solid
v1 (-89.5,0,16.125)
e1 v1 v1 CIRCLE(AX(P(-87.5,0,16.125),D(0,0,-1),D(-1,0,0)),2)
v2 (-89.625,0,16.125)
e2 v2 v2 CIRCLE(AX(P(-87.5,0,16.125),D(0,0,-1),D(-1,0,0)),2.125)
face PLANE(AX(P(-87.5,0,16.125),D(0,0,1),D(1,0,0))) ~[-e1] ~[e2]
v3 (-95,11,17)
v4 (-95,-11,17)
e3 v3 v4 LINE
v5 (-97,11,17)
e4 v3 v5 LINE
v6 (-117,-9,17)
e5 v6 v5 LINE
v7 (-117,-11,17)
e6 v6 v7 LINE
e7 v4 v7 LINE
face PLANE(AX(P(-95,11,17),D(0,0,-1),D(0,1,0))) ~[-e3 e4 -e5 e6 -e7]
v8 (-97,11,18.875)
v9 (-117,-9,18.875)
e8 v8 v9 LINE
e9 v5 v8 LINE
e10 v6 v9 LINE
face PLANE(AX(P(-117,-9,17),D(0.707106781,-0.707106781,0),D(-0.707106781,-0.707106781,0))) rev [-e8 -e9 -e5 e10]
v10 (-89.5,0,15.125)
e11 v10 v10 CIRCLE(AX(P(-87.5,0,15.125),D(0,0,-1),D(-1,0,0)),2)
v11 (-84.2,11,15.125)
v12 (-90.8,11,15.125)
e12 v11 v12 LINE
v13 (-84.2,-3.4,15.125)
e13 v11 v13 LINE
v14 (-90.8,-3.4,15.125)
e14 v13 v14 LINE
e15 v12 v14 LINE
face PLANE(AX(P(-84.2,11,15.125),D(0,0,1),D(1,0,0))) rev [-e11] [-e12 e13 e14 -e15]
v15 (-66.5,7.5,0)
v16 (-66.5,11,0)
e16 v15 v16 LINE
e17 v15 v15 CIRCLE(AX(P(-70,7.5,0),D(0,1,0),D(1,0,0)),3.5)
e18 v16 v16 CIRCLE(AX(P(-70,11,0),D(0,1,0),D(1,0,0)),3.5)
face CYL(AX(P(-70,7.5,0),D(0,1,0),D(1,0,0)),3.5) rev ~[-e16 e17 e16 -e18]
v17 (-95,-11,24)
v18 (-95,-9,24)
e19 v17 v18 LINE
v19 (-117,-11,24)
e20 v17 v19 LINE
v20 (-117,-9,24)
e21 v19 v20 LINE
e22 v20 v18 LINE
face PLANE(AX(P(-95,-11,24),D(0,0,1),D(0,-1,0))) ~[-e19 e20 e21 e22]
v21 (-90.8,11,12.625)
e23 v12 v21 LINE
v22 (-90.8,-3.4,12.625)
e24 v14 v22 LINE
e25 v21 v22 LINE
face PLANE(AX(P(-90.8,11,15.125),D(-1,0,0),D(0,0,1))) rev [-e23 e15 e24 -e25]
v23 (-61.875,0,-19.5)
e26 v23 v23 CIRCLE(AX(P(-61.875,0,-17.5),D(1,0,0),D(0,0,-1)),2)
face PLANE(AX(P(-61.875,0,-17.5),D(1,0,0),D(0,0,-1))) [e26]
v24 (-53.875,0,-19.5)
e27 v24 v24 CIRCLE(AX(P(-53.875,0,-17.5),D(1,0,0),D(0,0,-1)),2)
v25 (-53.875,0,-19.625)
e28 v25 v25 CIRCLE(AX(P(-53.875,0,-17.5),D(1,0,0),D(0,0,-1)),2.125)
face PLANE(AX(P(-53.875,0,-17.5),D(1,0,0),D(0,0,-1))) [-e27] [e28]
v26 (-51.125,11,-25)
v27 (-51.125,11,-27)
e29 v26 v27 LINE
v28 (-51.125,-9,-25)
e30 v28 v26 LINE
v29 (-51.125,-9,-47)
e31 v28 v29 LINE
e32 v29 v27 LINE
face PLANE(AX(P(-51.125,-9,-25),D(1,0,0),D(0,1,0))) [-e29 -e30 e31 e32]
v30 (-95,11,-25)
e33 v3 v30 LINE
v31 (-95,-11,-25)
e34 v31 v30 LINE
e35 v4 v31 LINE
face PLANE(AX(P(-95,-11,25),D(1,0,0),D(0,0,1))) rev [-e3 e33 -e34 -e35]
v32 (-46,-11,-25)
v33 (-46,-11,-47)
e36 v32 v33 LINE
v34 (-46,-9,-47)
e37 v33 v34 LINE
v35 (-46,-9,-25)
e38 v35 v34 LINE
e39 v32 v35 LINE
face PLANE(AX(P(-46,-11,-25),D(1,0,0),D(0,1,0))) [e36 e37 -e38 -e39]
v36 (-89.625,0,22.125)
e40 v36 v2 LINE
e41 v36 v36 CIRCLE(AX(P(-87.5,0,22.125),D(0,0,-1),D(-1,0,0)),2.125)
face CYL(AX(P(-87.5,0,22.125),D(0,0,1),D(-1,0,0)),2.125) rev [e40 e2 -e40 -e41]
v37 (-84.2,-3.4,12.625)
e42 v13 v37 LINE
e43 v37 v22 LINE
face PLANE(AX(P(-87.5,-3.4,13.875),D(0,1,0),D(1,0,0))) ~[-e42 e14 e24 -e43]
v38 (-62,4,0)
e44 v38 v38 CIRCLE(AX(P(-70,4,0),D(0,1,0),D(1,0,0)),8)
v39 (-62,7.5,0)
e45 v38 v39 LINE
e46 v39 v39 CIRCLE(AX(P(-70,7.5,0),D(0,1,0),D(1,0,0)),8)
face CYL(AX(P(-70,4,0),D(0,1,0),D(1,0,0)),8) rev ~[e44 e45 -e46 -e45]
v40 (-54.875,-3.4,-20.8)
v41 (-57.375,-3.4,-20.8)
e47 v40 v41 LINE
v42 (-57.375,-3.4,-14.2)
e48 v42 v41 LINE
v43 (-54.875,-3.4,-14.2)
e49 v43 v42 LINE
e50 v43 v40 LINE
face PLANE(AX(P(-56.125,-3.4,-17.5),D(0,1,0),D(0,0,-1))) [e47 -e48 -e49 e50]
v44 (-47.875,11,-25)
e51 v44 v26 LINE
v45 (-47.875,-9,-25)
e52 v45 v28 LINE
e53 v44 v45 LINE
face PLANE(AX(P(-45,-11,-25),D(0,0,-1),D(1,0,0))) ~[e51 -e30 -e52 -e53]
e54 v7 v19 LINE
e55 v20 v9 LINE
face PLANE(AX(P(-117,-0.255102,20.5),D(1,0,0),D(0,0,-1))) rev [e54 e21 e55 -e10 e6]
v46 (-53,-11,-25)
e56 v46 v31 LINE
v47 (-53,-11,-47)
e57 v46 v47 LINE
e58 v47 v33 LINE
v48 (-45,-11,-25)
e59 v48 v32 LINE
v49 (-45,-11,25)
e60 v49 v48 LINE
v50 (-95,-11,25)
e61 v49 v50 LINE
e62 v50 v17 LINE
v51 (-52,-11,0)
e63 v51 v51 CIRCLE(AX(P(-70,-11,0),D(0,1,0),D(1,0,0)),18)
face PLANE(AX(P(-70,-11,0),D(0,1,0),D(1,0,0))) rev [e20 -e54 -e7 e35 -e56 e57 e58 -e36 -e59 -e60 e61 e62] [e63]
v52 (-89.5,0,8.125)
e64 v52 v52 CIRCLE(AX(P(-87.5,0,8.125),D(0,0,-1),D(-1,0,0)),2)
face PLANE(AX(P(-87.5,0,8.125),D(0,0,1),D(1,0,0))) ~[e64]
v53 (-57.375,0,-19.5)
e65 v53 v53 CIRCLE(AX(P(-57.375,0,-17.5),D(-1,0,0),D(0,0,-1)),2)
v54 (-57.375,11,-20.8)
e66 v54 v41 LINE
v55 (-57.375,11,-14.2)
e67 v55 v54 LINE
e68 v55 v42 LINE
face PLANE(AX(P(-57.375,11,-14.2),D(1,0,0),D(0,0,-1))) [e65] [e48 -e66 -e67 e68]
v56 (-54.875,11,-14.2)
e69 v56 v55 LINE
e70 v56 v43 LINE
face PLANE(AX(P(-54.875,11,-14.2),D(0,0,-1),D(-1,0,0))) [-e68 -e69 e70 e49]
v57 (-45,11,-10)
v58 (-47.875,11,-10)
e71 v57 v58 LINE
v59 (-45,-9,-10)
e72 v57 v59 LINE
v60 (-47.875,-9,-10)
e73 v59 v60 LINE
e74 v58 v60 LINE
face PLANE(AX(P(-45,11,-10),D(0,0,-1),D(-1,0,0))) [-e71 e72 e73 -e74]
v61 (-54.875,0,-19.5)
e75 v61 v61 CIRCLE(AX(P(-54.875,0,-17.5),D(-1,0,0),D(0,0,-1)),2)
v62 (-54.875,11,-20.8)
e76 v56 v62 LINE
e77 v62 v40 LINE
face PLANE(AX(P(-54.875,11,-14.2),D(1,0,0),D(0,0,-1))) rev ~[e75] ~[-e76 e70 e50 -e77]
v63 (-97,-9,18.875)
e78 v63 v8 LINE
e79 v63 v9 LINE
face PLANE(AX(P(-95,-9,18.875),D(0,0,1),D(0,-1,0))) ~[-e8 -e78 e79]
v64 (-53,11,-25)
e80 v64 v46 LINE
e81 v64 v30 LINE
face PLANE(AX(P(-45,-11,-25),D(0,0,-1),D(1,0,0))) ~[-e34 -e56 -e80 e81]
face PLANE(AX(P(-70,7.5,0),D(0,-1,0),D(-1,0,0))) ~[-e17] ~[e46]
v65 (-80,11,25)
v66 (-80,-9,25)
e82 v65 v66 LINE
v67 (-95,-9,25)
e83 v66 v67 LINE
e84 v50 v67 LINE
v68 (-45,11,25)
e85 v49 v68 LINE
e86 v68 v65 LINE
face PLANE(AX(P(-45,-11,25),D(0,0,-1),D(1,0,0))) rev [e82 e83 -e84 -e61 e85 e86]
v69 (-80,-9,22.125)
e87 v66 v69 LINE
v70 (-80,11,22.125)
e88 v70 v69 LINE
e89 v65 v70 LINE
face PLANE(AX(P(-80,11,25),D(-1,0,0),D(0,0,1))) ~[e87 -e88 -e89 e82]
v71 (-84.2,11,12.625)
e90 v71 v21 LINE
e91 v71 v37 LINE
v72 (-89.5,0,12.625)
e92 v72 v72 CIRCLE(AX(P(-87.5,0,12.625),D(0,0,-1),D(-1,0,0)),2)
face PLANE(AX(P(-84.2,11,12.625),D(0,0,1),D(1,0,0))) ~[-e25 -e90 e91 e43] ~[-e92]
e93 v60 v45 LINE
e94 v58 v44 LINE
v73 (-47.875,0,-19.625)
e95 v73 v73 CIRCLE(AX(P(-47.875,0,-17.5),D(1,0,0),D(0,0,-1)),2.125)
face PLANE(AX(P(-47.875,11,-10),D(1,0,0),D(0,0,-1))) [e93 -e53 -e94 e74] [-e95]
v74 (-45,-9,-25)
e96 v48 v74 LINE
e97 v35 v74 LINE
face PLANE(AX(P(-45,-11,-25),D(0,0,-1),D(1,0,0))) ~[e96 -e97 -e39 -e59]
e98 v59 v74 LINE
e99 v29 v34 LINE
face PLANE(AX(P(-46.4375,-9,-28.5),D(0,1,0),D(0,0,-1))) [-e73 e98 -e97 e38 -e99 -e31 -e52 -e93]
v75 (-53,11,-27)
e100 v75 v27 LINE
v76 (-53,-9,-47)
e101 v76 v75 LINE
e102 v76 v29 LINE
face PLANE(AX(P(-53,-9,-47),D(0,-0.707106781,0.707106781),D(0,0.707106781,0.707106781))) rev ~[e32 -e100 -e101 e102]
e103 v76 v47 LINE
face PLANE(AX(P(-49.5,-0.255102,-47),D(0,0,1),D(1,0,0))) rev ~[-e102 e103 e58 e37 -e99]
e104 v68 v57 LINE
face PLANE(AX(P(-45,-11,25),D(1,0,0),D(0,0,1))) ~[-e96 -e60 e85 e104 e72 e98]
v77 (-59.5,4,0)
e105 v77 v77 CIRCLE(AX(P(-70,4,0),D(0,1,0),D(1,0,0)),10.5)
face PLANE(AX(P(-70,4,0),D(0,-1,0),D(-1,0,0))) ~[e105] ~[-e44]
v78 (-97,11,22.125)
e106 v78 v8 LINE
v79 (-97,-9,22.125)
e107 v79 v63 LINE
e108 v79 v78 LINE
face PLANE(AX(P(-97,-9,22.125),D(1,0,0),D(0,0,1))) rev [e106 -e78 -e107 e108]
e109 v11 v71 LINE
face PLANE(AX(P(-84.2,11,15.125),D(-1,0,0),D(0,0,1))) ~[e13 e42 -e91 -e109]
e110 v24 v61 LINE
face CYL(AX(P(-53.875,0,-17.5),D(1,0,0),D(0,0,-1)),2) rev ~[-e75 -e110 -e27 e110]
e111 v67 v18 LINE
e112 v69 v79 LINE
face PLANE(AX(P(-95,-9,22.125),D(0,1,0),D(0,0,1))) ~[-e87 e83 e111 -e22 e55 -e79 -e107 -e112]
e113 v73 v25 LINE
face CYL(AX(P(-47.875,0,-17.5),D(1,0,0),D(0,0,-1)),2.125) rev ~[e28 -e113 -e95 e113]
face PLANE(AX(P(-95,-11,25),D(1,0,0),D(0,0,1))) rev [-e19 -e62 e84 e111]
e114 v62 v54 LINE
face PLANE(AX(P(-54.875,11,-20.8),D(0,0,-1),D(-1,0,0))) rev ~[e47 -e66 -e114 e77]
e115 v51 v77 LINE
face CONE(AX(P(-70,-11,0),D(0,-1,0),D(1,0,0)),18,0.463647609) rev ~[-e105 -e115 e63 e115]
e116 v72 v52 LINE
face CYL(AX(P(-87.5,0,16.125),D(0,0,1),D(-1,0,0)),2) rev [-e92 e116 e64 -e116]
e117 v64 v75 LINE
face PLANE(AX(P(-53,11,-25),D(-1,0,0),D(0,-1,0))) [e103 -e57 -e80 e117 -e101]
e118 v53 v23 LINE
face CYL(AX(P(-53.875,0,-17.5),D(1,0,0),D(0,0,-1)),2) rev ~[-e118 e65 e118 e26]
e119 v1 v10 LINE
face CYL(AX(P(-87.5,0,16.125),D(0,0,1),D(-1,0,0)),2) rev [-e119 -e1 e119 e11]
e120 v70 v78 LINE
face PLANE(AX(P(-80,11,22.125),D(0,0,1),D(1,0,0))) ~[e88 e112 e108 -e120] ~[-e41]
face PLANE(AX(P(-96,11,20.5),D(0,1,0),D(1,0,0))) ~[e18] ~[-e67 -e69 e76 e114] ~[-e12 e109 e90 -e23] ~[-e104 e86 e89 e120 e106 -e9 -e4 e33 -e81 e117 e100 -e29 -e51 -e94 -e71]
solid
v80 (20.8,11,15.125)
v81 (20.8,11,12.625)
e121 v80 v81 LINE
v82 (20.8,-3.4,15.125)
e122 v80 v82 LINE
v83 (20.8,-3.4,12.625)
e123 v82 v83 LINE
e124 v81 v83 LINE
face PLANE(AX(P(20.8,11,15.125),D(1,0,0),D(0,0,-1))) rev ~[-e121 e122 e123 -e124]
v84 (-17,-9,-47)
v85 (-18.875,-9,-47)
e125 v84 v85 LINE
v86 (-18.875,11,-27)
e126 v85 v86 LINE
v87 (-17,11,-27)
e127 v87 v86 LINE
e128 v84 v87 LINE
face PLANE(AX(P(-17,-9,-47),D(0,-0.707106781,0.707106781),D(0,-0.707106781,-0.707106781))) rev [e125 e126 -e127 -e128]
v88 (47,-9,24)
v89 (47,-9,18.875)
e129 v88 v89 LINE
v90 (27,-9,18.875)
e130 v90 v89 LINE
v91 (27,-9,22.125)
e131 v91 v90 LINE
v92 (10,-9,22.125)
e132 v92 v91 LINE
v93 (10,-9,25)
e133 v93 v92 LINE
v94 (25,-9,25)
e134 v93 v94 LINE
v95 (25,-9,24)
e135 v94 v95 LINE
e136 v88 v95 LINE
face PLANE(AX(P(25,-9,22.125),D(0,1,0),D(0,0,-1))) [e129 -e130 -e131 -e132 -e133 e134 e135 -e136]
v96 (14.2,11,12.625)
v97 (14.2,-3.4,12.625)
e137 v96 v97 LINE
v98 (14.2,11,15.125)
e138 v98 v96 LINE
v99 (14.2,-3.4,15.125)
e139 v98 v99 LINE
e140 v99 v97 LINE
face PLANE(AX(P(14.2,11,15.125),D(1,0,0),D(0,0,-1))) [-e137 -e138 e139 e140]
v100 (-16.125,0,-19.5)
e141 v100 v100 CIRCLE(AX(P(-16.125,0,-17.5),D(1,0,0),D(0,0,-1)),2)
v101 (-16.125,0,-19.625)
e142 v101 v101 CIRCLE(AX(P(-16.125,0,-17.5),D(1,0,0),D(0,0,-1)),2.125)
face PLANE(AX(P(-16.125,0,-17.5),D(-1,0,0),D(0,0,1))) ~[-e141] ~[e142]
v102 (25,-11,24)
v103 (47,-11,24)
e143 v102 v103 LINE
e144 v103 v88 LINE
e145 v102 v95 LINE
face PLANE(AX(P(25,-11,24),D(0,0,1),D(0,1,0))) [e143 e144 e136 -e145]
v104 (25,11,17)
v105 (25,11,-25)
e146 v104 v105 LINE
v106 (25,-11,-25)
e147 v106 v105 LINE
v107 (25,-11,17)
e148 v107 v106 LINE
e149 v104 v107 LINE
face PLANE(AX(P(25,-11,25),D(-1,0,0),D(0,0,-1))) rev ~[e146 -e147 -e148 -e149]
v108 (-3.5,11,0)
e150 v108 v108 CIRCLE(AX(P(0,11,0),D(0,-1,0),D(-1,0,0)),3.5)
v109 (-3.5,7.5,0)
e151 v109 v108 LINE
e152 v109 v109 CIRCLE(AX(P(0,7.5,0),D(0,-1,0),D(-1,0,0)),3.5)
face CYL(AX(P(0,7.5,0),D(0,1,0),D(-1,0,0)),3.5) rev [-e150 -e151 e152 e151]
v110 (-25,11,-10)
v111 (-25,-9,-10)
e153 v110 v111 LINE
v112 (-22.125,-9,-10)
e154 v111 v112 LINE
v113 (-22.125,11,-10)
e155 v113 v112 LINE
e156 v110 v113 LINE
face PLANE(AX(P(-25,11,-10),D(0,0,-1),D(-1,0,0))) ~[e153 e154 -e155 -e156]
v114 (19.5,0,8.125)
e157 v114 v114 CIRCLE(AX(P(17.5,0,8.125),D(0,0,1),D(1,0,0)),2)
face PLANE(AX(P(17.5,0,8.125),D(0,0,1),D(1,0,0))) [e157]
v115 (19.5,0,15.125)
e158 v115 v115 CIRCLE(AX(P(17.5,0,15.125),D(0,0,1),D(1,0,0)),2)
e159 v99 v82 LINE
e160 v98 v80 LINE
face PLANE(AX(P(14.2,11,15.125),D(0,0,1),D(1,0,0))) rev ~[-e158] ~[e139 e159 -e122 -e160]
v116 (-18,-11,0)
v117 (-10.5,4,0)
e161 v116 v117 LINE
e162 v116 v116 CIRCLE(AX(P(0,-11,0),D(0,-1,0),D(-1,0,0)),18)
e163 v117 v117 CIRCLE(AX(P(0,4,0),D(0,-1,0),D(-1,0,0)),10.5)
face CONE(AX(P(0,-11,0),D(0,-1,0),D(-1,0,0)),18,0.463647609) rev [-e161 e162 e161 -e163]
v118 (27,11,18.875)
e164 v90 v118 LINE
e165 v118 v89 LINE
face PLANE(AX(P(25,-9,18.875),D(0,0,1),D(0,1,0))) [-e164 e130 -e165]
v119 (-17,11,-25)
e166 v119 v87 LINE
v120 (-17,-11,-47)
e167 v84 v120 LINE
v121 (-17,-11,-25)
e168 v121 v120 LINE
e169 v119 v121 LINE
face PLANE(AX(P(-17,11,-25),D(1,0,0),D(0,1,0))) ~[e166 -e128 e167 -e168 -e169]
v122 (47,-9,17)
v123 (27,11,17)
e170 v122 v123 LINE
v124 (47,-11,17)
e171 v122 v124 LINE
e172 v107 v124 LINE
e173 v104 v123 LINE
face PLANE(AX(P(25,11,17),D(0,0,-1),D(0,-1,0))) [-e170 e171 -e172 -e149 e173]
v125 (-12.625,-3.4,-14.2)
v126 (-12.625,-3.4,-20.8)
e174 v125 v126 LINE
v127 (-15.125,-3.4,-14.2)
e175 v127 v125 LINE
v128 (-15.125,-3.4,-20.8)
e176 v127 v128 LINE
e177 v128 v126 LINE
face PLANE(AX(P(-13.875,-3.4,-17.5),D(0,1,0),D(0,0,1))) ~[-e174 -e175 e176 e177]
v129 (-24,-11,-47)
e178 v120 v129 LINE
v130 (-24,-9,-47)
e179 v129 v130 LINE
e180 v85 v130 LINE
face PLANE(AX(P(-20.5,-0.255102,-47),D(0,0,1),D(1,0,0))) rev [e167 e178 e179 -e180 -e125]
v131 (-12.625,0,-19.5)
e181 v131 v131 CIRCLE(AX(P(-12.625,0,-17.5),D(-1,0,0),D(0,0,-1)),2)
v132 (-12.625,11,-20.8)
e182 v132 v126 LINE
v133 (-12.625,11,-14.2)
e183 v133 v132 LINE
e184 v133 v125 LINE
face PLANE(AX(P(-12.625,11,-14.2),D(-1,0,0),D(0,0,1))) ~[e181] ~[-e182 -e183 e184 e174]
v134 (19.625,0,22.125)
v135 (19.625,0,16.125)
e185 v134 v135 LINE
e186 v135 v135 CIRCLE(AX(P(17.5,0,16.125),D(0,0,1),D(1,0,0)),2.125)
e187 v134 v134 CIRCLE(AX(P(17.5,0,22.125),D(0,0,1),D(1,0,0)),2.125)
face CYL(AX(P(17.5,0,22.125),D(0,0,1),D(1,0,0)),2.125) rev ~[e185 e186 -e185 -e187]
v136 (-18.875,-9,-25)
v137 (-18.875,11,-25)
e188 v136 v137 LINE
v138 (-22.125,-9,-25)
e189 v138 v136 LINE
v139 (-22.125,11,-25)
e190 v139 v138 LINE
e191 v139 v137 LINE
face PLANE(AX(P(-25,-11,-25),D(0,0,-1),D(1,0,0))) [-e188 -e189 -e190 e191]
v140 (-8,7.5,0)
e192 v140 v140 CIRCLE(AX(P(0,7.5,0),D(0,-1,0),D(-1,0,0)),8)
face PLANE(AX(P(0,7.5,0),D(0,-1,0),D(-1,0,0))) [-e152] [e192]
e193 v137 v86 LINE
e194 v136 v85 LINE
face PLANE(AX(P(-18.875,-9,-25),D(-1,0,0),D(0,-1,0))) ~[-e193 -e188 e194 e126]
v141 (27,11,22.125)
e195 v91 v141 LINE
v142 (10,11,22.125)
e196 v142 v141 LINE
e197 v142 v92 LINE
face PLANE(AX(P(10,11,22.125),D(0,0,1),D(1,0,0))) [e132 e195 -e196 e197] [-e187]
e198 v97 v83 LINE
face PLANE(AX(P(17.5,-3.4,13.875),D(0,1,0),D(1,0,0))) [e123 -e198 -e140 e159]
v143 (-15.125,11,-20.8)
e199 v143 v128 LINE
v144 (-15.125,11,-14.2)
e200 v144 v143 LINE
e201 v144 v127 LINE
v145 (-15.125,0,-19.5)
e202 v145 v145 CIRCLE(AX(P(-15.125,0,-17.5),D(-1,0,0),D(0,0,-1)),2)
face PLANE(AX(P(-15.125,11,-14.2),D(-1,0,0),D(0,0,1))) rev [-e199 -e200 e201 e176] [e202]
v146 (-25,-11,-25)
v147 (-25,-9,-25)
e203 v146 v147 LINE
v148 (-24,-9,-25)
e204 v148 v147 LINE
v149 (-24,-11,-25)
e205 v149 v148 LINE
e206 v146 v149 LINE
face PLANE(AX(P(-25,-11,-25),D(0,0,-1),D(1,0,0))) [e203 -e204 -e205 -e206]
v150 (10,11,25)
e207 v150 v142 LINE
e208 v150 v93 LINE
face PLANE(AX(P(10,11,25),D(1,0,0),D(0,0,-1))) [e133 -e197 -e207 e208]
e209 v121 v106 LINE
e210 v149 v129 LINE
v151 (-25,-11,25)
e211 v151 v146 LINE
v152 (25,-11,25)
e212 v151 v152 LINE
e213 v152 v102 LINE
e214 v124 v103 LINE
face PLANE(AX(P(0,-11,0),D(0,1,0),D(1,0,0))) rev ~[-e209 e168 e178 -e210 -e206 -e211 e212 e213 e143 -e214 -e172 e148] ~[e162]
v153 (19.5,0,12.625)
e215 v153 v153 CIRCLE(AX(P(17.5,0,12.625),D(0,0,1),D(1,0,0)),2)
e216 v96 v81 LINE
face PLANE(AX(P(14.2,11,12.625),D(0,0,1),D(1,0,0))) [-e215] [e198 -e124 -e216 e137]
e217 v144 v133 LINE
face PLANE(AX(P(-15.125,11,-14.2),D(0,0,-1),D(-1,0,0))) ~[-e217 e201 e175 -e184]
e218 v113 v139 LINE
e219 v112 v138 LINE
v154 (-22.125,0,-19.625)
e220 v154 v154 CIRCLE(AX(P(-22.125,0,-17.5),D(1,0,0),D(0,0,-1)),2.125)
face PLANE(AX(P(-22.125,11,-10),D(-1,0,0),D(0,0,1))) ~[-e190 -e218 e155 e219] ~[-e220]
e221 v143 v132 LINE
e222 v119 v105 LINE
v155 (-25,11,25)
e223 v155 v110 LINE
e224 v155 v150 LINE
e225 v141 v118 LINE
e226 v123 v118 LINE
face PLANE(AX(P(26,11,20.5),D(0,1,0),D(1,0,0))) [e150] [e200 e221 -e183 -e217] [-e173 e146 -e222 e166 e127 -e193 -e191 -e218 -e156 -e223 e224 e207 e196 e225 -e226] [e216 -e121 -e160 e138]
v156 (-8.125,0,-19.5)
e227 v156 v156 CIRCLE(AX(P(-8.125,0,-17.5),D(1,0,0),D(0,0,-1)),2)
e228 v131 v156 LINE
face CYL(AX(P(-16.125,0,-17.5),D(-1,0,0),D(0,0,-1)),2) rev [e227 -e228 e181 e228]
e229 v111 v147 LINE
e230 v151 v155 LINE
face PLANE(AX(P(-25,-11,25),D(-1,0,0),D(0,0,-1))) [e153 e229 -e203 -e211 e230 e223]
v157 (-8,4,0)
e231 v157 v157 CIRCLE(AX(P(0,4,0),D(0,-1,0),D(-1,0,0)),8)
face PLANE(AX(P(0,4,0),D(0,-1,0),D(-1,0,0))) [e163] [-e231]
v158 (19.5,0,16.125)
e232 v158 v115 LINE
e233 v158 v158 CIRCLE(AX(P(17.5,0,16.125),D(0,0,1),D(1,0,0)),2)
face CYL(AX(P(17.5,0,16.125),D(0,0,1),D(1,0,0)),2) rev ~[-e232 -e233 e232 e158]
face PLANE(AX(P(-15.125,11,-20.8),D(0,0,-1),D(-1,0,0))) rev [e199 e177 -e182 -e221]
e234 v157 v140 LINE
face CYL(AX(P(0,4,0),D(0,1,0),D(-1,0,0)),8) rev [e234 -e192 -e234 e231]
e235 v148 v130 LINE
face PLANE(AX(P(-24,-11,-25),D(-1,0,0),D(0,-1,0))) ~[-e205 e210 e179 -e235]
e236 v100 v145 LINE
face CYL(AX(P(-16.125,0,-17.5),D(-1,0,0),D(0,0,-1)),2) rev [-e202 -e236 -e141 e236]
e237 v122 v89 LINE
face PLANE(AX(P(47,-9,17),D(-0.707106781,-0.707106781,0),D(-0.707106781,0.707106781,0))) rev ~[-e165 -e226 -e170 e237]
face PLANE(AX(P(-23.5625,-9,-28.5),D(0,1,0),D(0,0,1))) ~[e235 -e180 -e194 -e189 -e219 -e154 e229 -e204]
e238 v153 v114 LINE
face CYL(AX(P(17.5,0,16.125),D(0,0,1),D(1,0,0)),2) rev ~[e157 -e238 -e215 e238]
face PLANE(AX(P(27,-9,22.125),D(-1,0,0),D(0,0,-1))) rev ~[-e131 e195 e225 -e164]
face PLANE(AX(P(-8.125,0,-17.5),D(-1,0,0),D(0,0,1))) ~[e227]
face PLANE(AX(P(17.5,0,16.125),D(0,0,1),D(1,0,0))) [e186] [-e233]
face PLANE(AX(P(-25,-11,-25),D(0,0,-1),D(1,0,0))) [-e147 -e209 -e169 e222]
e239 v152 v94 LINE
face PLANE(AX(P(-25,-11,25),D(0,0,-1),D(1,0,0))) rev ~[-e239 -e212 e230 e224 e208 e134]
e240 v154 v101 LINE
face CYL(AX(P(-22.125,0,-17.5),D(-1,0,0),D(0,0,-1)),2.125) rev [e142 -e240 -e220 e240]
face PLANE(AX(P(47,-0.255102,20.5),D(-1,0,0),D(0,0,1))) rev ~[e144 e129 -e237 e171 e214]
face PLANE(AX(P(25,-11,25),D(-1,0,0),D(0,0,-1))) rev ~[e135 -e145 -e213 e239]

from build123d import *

# Parameters (mm, degrees)
BOSS_EXTRUDE1_DEPTH      = 11
BOSS_EXTRUDE1_DEPTH_BACK = 11
SKETCH1_W                = 50
SKETCH1_H                = 50
BOSS_EXTRUDE2_DEPTH      = 22
CUT_EXTRUDE1_DEPTH       = 7
SKETCH5_W                = 2
SKETCH5_H                = 3.25
BOSS_EXTRUDE3_DEPTH      = 20
SKETCH6_W                = 37
SKETCH6_H                = 2.875
CUT_EXTRUDE2_DEPTH       = 20
SKETCH8_R                = 2.125
CUT_EXTRUDE3_DEPTH       = 6
SKETCH9_W                = 6.6
SKETCH9_H                = 2.5
CUT_EXTRUDE4_DEPTH       = 14.4
SKETCH11_R               = 2
CUT_EXTRUDE5_DEPTH       = 8


with BuildPart() as part:
    # Sketch1 → Boss-Extrude1 (new, two sides: drawn at the far end of the back side and taken through both)
    with BuildSketch(Plane(origin=(0, 0, 0), x_dir=(1, 0, 0), z_dir=(0, 1, 0)).offset(-BOSS_EXTRUDE1_DEPTH_BACK)):
        Rectangle(SKETCH1_W, SKETCH1_H)
    extrude(amount=BOSS_EXTRUDE1_DEPTH + BOSS_EXTRUDE1_DEPTH_BACK)

    # Sketch2 → Cut-Revolve1 (revolve, cut)
    with BuildSketch(Plane.XY):
        Polygon((-3.5, 7.5), (-3.5, 11), (0, 11), (0, -11), (-18, -11), (-10.5, 4), (-8, 4), (-8, 7.5), align=None)
    revolve(axis=Axis((0, 11, 0), (0, -1, 0)), mode=Mode.SUBTRACT)

    # Sketch3 → Boss-Extrude2 (add)
    with BuildSketch(Plane(origin=(25, 0, 0), x_dir=(0, 0, -1), z_dir=(1, 0, 0))):
        Polygon((-24, 11), (-22.125, 11), (-22.125, -9), (-18.875, -9), (-18.875, 11), (-17, 11), (-17, -11), (-24, -11), align=None)
    boss_extrude2 = extrude(amount=BOSS_EXTRUDE2_DEPTH)

    # Sketch4 → Cut-Extrude1 (cut)
    with BuildSketch(Plane(origin=(0, 0, 17), x_dir=(-1, 0, 0), z_dir=(0, 0, -1))):
        Polygon((-47, -9), (-27, 11), (-47, 11), align=None)
    cut_extrude1 = extrude(amount=-CUT_EXTRUDE1_DEPTH, mode=Mode.SUBTRACT)

    # Sketch5 → Boss-Extrude3 (add)
    with BuildSketch(Plane(origin=(0, -9, 0), x_dir=(1, 0, 0), z_dir=(0, 1, 0))):
        with Locations((26, -20.5)):
            Rectangle(SKETCH5_W, SKETCH5_H)
    extrude(amount=BOSS_EXTRUDE3_DEPTH)

    # Sketch6 → Cut-Extrude2 (cut)
    with BuildSketch(Plane(origin=(0, 11, 0), x_dir=(1, 0, 0), z_dir=(0, 1, 0))):
        with Locations((28.5, -23.5625)):
            Rectangle(SKETCH6_W, SKETCH6_H)
    cut_extrude2 = extrude(amount=-CUT_EXTRUDE2_DEPTH, mode=Mode.SUBTRACT)

    # Sketch8 → Cut-Extrude3 (cut)
    with BuildSketch(Plane.XY.offset(22.125)):
        with Locations((17.5, 0)):
            Circle(SKETCH8_R)
    cut_extrude3 = extrude(amount=-CUT_EXTRUDE3_DEPTH, mode=Mode.SUBTRACT)

    # Sketch9 → Cut-Extrude4 (cut)
    with BuildSketch(Plane(origin=(0, 11, 0), x_dir=(1, 0, 0), z_dir=(0, 1, 0))):
        with Locations((17.5, -13.875)):
            Rectangle(SKETCH9_W, SKETCH9_H)
    cut_extrude4 = extrude(amount=-CUT_EXTRUDE4_DEPTH, mode=Mode.SUBTRACT)

    # Sketch11 → Cut-Extrude5 (cut)
    with BuildSketch(Plane.XY.offset(16.125)):
        with Locations((17.5, 0)):
            Circle(SKETCH11_R)
    cut_extrude5 = extrude(amount=-CUT_EXTRUDE5_DEPTH, mode=Mode.SUBTRACT)

    # Mirror1: Boss-Extrude2, Cut-Extrude1, Cut-Extrude2, Cut-Extrude3, Cut-Extrude4, Cut-Extrude5 across plane
    add(boss_extrude2.mirror(Plane(origin=(0, 0, 0), x_dir=(-0.7071067811865476, 0, 0.7071067811865476), z_dir=(0.7071067811865477, 0, 0.7071067811865475))))
    add(cut_extrude1.mirror(Plane(origin=(0, 0, 0), x_dir=(-0.7071067811865476, 0, 0.7071067811865476), z_dir=(0.7071067811865477, 0, 0.7071067811865475))), mode=Mode.SUBTRACT)
    add(cut_extrude2.mirror(Plane(origin=(0, 0, 0), x_dir=(-0.7071067811865476, 0, 0.7071067811865476), z_dir=(0.7071067811865477, 0, 0.7071067811865475))), mode=Mode.SUBTRACT)
    add(cut_extrude3.mirror(Plane(origin=(0, 0, 0), x_dir=(-0.7071067811865476, 0, 0.7071067811865476), z_dir=(0.7071067811865477, 0, 0.7071067811865475))), mode=Mode.SUBTRACT)
    add(cut_extrude4.mirror(Plane(origin=(0, 0, 0), x_dir=(-0.7071067811865476, 0, 0.7071067811865476), z_dir=(0.7071067811865477, 0, 0.7071067811865475))), mode=Mode.SUBTRACT)
    add(cut_extrude5.mirror(Plane(origin=(0, 0, 0), x_dir=(-0.7071067811865476, 0, 0.7071067811865476), z_dir=(0.7071067811865477, 0, 0.7071067811865475))), mode=Mode.SUBTRACT)


with BuildPart() as body_2:
    # Mirror2: mirrored copy
    add(part.part.mirror(Plane.ZY.offset(35)))


solid = Compound([part.part, body_2.part])
